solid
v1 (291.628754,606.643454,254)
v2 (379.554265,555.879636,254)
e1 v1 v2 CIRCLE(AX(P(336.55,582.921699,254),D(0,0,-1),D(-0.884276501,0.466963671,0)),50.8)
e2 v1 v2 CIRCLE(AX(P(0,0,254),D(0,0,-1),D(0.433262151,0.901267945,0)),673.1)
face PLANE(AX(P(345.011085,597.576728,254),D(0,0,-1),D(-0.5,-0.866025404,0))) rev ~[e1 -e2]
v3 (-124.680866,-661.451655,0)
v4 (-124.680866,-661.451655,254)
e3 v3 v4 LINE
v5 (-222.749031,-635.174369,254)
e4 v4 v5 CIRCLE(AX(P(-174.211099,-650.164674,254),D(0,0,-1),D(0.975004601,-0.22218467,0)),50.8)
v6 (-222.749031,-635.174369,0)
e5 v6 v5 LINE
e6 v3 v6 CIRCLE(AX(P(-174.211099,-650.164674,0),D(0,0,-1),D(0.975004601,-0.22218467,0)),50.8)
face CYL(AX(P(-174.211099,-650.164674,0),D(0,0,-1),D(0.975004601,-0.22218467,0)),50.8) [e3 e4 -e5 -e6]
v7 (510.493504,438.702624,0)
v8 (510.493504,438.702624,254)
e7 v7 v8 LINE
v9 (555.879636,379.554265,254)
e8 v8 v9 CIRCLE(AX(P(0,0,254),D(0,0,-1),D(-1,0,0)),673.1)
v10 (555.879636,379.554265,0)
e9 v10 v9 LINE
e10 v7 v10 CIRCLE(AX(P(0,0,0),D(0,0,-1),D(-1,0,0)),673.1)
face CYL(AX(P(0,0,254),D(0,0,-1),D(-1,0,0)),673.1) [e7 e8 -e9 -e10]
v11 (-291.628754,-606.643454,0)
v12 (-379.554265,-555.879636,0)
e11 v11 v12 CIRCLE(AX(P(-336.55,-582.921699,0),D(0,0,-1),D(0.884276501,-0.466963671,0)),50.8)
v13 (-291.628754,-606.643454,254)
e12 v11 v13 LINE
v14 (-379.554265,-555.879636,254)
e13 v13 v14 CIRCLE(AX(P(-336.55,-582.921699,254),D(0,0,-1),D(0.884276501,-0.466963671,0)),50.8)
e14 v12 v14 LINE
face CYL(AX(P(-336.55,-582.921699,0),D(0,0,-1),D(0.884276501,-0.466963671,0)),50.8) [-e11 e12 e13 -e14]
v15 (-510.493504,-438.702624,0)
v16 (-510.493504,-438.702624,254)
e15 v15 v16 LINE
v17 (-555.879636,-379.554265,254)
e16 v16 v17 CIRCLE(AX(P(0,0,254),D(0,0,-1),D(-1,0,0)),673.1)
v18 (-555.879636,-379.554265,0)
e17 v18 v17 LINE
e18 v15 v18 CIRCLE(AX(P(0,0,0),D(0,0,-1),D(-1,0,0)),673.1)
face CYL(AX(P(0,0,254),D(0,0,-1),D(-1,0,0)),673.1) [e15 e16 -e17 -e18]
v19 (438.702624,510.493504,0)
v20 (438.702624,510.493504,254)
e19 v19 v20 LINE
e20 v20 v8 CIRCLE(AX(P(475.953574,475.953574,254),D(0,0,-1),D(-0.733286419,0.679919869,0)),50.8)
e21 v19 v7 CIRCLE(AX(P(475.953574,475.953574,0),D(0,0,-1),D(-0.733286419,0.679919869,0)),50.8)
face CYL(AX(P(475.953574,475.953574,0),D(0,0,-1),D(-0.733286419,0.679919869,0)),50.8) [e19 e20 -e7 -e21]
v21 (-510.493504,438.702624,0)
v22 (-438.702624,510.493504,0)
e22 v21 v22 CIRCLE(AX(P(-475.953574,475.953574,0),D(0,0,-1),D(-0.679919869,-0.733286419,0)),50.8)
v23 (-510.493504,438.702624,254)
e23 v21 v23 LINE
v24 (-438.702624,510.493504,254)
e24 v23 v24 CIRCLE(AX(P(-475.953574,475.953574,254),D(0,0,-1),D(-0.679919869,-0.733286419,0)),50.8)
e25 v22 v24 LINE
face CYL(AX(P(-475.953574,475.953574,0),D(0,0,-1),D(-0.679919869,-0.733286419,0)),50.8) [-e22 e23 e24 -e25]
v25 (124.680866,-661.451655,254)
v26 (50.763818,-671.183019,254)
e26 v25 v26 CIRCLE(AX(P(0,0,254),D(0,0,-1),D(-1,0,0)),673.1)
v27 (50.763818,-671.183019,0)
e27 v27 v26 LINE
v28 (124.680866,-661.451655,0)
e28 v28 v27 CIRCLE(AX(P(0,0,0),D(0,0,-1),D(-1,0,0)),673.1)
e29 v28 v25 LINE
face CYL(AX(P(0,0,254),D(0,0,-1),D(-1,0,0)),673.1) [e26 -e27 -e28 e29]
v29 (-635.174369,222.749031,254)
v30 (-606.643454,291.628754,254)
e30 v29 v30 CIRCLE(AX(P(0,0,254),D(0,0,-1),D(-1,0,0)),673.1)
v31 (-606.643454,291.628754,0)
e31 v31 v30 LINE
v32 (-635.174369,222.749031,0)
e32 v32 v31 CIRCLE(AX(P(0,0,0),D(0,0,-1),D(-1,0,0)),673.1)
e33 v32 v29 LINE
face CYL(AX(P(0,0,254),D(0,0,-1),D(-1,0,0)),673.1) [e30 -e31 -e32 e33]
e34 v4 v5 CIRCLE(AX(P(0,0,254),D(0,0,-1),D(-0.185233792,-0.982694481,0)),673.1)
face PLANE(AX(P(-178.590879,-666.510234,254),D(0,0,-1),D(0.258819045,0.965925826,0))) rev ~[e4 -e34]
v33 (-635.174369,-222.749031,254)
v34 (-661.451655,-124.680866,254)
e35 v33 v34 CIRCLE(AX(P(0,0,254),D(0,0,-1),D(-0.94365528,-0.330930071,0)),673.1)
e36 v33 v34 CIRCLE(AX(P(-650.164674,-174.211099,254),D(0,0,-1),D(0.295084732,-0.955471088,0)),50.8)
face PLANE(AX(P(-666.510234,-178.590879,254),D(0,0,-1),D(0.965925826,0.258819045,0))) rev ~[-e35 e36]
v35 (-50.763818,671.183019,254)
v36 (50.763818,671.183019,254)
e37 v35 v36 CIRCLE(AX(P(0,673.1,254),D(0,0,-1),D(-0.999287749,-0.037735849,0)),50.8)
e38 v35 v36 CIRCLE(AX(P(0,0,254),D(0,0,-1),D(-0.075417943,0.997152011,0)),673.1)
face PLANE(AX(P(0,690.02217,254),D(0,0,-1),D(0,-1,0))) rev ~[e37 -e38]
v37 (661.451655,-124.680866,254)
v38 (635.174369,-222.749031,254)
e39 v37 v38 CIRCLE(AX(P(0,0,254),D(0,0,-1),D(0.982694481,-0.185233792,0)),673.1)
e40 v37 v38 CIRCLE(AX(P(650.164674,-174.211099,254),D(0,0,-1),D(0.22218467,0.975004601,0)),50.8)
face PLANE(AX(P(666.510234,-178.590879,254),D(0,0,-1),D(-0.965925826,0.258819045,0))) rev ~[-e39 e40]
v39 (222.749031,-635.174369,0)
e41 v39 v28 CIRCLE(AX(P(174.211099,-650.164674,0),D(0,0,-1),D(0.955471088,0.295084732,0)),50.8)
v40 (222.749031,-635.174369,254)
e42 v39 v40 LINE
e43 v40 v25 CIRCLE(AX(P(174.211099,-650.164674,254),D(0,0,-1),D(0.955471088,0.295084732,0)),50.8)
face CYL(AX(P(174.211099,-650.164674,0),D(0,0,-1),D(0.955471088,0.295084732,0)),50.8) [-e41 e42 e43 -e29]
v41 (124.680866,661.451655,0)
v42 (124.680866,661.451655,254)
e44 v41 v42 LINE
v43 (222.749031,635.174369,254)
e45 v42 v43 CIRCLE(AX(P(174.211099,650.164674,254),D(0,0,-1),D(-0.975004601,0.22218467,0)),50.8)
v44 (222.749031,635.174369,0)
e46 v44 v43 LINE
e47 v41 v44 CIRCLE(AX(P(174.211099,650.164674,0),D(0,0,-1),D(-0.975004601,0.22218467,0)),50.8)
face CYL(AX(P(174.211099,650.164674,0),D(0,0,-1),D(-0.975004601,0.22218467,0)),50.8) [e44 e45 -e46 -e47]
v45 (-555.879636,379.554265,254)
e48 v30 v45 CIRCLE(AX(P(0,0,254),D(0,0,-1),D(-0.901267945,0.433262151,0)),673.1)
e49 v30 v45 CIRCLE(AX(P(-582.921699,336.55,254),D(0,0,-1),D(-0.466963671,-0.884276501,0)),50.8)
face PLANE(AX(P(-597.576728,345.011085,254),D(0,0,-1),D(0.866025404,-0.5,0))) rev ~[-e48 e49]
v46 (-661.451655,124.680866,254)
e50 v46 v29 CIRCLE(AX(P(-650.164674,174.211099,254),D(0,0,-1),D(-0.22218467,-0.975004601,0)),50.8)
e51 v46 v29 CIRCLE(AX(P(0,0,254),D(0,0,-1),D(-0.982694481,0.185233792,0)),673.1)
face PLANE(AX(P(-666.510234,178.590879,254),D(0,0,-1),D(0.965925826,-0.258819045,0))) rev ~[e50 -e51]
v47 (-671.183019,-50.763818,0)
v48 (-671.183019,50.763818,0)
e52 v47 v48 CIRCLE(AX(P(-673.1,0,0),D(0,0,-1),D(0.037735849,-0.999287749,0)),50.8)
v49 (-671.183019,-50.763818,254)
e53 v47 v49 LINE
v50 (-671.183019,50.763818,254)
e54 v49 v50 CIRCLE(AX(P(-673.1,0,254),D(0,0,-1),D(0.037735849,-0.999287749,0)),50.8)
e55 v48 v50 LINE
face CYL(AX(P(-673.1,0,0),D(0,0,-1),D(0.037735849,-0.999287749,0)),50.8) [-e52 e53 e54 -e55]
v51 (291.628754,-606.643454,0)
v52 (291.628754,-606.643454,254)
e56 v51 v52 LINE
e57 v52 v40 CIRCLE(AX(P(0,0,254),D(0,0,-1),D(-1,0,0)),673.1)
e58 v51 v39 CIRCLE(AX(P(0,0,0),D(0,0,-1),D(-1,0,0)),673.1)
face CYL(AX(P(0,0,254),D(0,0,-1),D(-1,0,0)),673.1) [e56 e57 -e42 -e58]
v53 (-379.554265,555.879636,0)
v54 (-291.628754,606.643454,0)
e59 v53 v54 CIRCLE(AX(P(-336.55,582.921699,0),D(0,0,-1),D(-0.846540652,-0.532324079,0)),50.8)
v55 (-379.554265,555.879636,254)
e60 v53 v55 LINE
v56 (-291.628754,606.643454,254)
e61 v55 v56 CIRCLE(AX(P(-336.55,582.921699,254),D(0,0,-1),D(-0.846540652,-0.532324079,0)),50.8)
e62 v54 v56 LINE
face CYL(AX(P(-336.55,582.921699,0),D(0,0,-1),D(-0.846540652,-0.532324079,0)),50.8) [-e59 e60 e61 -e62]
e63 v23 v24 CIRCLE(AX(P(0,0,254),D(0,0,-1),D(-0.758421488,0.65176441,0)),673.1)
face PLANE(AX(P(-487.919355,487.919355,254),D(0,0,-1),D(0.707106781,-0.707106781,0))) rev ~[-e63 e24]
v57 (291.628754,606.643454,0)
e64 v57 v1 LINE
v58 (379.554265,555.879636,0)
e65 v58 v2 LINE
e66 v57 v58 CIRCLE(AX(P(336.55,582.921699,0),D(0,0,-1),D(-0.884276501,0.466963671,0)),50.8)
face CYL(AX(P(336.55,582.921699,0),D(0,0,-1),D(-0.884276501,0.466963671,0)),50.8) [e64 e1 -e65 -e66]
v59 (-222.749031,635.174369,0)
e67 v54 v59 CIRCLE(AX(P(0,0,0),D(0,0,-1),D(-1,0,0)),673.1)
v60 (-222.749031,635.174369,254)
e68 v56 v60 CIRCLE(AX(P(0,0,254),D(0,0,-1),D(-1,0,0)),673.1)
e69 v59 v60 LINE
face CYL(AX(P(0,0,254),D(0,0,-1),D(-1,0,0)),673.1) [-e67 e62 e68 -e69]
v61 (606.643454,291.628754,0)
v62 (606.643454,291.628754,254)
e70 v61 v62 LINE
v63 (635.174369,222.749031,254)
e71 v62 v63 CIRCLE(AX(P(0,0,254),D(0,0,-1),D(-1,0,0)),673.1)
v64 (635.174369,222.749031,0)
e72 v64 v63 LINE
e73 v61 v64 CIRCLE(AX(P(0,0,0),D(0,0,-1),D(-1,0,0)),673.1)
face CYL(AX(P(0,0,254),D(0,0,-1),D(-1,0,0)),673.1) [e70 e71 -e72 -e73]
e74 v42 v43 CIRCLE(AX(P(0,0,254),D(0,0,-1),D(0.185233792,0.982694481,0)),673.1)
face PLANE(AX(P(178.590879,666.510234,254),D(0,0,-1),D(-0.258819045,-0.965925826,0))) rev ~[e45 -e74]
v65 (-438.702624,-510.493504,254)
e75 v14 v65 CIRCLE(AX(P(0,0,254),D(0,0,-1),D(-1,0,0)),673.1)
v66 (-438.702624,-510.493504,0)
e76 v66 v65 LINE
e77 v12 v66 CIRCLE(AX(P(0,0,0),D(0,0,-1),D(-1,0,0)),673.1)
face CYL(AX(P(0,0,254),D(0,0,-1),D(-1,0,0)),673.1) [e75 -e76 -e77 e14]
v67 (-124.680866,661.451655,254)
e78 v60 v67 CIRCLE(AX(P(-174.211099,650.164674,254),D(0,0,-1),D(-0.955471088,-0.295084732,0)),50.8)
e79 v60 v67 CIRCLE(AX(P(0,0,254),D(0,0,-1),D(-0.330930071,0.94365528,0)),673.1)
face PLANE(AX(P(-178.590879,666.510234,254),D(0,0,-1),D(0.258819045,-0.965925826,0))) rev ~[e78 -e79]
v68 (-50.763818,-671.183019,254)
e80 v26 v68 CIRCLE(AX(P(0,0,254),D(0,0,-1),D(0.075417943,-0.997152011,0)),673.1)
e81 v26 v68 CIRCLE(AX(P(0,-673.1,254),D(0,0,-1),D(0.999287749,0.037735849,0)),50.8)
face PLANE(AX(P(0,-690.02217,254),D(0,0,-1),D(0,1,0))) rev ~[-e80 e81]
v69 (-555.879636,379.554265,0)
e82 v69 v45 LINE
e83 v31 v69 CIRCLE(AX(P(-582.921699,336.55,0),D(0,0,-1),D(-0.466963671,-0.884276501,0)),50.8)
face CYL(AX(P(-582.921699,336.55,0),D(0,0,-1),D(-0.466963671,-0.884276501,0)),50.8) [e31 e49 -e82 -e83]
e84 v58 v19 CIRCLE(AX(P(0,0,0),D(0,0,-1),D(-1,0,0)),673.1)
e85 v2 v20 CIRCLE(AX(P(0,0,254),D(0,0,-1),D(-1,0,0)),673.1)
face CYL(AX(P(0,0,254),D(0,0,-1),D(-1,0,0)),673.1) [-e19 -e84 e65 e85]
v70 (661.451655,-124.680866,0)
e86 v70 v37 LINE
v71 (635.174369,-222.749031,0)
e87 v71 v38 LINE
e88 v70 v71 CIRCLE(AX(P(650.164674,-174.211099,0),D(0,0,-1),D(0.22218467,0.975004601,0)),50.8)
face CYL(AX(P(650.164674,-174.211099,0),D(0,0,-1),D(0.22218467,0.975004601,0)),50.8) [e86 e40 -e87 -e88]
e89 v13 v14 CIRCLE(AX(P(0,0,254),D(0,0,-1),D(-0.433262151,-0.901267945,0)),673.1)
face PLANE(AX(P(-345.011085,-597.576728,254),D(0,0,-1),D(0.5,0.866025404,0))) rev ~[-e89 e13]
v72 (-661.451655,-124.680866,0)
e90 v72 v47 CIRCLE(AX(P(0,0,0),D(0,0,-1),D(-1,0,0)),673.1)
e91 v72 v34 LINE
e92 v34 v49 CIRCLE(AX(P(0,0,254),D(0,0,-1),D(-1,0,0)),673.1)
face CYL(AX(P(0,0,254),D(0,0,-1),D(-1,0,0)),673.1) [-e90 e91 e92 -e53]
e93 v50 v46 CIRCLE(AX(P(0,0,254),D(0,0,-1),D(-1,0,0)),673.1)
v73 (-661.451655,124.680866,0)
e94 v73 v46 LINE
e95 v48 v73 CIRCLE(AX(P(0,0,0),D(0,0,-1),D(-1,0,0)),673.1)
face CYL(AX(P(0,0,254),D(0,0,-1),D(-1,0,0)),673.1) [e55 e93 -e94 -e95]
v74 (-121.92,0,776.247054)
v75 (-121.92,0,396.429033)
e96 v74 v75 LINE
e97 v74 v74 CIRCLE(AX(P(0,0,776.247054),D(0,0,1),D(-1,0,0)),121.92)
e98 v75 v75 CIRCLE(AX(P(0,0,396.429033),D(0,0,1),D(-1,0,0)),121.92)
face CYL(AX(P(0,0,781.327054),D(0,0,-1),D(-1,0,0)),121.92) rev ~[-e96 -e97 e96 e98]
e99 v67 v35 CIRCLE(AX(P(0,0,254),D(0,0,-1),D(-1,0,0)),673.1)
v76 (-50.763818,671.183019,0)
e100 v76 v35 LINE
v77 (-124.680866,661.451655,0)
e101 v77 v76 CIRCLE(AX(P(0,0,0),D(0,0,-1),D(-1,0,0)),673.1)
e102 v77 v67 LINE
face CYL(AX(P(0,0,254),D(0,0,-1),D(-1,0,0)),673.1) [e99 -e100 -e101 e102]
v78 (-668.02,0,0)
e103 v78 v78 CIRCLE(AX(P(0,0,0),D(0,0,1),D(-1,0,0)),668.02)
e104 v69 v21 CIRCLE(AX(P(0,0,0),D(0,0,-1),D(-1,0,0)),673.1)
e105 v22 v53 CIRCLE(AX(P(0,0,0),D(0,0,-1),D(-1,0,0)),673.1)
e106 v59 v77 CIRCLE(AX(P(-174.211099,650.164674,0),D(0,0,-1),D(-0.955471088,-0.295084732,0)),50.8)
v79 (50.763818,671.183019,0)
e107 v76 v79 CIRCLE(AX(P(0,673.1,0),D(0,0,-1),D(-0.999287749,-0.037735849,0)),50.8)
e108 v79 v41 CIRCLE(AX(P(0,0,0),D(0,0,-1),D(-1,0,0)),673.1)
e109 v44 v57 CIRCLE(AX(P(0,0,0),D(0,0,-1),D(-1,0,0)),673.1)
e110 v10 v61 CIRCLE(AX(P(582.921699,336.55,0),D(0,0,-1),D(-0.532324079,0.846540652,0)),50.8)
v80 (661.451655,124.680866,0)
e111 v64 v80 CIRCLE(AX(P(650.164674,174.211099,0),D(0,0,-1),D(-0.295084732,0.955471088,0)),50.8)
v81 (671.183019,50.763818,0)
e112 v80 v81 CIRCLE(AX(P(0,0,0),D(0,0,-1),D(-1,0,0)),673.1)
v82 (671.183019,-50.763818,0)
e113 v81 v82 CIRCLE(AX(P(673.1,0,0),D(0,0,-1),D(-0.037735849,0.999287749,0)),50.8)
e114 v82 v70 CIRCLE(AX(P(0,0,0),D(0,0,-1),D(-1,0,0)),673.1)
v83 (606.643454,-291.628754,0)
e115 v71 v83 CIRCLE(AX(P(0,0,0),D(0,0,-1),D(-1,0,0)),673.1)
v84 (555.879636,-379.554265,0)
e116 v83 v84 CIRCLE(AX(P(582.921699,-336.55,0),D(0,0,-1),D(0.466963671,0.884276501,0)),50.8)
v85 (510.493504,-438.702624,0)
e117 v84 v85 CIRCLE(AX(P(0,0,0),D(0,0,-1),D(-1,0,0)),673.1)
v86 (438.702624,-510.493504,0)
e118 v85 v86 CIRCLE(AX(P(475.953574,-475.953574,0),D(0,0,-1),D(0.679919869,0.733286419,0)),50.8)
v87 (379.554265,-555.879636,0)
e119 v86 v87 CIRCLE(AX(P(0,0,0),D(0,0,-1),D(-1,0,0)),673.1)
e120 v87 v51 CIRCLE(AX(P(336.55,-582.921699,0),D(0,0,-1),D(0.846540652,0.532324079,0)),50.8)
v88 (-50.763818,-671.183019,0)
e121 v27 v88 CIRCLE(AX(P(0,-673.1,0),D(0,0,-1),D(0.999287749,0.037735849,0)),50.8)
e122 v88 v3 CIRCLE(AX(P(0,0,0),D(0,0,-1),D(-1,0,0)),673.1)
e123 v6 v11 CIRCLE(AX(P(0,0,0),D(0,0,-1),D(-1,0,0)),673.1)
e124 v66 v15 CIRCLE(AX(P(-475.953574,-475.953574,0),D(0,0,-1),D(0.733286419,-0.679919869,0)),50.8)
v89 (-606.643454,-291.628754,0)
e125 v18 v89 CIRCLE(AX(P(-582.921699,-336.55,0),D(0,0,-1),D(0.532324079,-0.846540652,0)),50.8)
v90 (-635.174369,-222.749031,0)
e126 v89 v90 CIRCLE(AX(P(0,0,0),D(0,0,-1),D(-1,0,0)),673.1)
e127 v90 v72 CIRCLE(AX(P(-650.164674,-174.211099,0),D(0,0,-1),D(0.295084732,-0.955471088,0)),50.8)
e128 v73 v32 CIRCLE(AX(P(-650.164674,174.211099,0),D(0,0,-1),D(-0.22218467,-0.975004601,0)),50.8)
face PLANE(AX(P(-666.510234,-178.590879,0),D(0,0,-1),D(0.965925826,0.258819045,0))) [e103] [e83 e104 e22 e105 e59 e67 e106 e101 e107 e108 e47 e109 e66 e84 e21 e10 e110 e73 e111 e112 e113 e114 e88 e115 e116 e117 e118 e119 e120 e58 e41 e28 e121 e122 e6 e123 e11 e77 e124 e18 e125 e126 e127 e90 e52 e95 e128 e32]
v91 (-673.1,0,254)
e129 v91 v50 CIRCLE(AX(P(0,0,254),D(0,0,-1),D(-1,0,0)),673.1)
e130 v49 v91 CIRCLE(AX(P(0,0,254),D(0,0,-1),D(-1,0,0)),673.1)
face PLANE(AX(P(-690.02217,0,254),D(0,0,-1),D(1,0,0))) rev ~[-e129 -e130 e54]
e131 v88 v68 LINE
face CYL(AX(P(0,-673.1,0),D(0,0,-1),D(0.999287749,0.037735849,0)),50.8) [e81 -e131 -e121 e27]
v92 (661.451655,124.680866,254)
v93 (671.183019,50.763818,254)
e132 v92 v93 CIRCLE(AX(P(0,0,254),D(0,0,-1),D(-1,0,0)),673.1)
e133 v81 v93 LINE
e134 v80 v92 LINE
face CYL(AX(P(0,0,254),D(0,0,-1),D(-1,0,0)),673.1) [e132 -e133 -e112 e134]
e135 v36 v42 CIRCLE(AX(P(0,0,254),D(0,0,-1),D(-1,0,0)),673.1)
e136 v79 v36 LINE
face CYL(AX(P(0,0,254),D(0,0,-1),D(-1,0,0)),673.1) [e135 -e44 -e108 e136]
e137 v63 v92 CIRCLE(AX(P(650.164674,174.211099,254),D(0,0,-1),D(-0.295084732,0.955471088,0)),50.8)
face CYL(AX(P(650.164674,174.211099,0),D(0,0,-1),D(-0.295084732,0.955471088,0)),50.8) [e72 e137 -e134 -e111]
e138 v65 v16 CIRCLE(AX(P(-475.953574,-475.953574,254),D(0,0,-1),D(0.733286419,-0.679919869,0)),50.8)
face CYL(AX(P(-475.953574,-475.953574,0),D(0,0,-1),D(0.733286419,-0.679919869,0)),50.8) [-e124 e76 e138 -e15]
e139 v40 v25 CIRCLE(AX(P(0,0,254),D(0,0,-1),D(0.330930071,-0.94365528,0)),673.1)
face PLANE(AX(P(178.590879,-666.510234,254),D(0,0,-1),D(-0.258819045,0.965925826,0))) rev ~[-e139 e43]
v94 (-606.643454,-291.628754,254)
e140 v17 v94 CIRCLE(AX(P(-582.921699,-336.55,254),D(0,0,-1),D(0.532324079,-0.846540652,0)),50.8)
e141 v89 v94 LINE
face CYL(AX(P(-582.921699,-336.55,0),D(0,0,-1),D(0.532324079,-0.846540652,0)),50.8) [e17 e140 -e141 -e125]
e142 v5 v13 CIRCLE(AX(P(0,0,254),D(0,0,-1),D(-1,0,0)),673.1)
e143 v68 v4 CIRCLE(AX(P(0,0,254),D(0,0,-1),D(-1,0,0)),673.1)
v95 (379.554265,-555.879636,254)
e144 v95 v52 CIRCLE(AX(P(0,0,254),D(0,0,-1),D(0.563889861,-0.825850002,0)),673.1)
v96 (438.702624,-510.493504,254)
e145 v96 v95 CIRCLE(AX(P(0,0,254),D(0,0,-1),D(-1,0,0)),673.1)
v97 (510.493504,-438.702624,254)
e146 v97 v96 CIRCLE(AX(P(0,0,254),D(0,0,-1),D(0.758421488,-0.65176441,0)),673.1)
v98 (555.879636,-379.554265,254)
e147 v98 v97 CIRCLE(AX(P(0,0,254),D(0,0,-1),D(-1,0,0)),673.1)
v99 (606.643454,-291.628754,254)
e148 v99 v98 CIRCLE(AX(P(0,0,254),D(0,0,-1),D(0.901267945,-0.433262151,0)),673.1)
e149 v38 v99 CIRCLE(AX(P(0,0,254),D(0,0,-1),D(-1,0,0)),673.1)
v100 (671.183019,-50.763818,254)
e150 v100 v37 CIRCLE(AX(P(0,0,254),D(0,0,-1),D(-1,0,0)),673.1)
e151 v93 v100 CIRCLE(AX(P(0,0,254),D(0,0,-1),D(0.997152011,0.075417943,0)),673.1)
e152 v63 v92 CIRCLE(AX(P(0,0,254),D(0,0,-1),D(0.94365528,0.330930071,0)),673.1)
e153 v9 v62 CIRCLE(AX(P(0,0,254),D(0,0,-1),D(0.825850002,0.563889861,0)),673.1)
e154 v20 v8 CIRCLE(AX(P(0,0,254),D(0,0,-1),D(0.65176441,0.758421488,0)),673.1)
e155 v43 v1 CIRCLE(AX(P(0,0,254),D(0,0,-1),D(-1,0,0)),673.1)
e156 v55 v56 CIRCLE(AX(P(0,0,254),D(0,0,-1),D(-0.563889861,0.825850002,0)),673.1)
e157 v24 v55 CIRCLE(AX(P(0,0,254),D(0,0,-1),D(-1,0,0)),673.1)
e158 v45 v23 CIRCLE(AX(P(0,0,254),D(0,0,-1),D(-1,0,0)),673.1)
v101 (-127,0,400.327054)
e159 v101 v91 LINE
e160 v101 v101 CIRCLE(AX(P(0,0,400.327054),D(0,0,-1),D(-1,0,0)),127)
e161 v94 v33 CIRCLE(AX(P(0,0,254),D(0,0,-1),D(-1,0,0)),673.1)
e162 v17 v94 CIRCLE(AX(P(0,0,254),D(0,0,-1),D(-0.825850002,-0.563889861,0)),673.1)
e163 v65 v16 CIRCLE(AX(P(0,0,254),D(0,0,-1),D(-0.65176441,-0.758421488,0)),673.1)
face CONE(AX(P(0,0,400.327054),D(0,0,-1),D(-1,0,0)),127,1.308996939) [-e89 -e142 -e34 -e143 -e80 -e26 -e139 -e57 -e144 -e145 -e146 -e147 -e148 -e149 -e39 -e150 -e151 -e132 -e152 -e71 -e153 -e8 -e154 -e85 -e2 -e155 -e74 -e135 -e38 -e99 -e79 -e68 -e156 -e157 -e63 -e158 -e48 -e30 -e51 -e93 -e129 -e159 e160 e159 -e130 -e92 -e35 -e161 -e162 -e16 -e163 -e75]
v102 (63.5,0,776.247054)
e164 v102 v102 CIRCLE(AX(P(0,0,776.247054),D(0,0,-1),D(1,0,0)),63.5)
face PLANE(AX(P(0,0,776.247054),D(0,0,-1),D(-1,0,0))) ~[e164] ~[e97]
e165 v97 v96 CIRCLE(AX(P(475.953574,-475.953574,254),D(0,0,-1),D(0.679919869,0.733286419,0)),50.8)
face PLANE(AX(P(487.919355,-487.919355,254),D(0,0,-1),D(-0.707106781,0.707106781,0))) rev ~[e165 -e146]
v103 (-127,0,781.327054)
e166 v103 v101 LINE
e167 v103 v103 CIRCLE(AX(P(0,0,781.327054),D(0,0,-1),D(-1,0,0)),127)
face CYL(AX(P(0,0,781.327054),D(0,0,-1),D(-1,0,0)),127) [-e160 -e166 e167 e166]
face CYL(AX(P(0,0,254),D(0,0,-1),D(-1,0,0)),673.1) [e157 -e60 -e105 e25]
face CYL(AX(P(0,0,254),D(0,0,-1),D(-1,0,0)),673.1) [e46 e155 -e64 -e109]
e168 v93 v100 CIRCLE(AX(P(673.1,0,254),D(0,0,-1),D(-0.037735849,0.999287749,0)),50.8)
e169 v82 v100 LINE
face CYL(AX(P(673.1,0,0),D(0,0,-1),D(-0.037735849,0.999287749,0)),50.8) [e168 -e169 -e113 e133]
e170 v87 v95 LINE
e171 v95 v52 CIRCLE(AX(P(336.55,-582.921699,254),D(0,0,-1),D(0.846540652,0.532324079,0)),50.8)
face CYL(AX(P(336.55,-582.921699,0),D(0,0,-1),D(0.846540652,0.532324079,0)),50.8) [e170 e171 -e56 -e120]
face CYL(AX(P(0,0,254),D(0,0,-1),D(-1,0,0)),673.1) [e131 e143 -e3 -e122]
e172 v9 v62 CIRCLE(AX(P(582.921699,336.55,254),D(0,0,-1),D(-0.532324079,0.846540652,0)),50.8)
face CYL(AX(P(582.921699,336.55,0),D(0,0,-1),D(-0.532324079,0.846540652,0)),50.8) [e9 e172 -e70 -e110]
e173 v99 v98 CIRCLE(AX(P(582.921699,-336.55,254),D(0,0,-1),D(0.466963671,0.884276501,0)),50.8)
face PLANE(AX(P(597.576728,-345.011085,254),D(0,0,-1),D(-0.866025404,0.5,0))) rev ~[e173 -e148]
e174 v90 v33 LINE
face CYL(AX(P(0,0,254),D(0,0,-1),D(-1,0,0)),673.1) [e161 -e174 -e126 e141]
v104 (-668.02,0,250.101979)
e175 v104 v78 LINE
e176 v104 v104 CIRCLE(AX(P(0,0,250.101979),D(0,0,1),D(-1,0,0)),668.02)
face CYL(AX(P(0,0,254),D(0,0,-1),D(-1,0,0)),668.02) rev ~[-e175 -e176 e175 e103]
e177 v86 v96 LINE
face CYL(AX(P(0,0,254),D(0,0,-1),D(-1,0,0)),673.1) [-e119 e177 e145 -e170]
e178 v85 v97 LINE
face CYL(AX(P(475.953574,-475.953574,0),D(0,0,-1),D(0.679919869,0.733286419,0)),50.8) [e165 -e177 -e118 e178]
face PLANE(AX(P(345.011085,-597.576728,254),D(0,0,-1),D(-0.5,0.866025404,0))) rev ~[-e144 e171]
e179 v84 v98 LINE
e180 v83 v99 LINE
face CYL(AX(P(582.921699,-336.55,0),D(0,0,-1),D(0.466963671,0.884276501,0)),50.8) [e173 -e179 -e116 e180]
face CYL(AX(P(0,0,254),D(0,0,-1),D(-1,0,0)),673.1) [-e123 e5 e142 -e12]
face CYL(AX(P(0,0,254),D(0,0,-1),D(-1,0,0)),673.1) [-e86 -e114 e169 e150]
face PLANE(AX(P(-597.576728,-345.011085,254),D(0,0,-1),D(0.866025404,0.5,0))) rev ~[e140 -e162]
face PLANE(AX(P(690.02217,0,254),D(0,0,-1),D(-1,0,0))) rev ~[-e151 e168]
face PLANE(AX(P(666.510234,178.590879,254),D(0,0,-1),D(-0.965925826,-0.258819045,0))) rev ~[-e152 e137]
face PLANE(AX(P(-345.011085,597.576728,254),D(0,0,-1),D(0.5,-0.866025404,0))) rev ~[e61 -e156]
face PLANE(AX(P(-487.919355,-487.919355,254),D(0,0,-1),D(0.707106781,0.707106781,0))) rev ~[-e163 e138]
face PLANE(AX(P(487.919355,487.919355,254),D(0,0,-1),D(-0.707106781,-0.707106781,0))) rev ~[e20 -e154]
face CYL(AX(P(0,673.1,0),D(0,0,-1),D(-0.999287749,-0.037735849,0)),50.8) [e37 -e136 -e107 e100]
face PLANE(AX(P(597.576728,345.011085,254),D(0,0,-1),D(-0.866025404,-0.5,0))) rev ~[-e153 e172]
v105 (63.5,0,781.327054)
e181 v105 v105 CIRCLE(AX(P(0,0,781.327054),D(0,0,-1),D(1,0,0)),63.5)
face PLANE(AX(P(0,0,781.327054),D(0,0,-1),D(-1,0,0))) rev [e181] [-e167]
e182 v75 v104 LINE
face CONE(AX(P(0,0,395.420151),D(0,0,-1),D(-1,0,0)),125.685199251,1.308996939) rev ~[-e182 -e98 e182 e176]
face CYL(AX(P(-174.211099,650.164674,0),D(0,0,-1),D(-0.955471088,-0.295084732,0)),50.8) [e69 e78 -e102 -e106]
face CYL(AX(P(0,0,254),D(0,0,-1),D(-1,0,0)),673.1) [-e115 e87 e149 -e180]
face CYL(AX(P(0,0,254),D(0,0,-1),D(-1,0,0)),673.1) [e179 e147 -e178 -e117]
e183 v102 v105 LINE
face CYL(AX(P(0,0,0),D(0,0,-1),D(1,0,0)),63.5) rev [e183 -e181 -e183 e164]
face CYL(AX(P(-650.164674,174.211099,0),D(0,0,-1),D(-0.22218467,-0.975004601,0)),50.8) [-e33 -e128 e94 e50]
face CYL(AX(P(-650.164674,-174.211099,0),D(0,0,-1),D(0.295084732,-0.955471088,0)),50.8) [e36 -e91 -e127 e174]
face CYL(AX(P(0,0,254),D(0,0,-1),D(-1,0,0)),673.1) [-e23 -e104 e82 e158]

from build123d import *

# Parameters (mm, degrees)
F2_T     = -5.08
F3_R     = 63.5
F4_DEPTH = 781.3280539866
F6_DEPTH = 254
F7_COUNT = 24


with BuildPart() as f1:
    # F0 (on Front) → F1 (revolve)
    with BuildSketch(Plane.XZ):
        Polygon((-673.1, 0), (0, 0), (0, 781.3270539866), (-127, 781.3270539866), (-127, 400.3270539866), (-673.1, 254), align=None)
    revolve(axis=Axis((0, 0, 390.6635269933), (0, 0, -1)))

    # F2
    f2_openings = [f1.faces().sort_by_distance(p)[0] for p in [
        (0, 0, 0),
    ]]
    offset(amount=F2_T, openings=f2_openings, kind=Kind.INTERSECTION)

    # F3 (on Top) → F4 (cut, through all)
    with BuildSketch(Plane.XY):
        Circle(F3_R)
    extrude(amount=F4_DEPTH, mode=Mode.SUBTRACT)

    # F5 (on face) → F6 (join)
    with BuildSketch(Plane(origin=(0, 0, 0), x_dir=(1, 0, 0), z_dir=(0, 0, -1))):
        with BuildLine():
            ThreePointArc((-671.1830188679, -50.7638176592), (-673.1, 0), (-671.1830188679, 50.7638176592))
            ThreePointArc((-671.1830188679, 50.7638176592), (-723.9, 0), (-671.1830188679, -50.7638176592))
        make_face()
    extrude(amount=-F6_DEPTH)

    # F7: F1 ×24 about axis
    f7_axis = Axis((0, 0, 781.3270539866), (0, 0, -1))


with BuildPart() as f1_1:
    add(f1.part)
    for i in range(1, F7_COUNT):
        add(f1.part.rotate(f7_axis, i * 360 / F7_COUNT))


solid = f1_1.part
